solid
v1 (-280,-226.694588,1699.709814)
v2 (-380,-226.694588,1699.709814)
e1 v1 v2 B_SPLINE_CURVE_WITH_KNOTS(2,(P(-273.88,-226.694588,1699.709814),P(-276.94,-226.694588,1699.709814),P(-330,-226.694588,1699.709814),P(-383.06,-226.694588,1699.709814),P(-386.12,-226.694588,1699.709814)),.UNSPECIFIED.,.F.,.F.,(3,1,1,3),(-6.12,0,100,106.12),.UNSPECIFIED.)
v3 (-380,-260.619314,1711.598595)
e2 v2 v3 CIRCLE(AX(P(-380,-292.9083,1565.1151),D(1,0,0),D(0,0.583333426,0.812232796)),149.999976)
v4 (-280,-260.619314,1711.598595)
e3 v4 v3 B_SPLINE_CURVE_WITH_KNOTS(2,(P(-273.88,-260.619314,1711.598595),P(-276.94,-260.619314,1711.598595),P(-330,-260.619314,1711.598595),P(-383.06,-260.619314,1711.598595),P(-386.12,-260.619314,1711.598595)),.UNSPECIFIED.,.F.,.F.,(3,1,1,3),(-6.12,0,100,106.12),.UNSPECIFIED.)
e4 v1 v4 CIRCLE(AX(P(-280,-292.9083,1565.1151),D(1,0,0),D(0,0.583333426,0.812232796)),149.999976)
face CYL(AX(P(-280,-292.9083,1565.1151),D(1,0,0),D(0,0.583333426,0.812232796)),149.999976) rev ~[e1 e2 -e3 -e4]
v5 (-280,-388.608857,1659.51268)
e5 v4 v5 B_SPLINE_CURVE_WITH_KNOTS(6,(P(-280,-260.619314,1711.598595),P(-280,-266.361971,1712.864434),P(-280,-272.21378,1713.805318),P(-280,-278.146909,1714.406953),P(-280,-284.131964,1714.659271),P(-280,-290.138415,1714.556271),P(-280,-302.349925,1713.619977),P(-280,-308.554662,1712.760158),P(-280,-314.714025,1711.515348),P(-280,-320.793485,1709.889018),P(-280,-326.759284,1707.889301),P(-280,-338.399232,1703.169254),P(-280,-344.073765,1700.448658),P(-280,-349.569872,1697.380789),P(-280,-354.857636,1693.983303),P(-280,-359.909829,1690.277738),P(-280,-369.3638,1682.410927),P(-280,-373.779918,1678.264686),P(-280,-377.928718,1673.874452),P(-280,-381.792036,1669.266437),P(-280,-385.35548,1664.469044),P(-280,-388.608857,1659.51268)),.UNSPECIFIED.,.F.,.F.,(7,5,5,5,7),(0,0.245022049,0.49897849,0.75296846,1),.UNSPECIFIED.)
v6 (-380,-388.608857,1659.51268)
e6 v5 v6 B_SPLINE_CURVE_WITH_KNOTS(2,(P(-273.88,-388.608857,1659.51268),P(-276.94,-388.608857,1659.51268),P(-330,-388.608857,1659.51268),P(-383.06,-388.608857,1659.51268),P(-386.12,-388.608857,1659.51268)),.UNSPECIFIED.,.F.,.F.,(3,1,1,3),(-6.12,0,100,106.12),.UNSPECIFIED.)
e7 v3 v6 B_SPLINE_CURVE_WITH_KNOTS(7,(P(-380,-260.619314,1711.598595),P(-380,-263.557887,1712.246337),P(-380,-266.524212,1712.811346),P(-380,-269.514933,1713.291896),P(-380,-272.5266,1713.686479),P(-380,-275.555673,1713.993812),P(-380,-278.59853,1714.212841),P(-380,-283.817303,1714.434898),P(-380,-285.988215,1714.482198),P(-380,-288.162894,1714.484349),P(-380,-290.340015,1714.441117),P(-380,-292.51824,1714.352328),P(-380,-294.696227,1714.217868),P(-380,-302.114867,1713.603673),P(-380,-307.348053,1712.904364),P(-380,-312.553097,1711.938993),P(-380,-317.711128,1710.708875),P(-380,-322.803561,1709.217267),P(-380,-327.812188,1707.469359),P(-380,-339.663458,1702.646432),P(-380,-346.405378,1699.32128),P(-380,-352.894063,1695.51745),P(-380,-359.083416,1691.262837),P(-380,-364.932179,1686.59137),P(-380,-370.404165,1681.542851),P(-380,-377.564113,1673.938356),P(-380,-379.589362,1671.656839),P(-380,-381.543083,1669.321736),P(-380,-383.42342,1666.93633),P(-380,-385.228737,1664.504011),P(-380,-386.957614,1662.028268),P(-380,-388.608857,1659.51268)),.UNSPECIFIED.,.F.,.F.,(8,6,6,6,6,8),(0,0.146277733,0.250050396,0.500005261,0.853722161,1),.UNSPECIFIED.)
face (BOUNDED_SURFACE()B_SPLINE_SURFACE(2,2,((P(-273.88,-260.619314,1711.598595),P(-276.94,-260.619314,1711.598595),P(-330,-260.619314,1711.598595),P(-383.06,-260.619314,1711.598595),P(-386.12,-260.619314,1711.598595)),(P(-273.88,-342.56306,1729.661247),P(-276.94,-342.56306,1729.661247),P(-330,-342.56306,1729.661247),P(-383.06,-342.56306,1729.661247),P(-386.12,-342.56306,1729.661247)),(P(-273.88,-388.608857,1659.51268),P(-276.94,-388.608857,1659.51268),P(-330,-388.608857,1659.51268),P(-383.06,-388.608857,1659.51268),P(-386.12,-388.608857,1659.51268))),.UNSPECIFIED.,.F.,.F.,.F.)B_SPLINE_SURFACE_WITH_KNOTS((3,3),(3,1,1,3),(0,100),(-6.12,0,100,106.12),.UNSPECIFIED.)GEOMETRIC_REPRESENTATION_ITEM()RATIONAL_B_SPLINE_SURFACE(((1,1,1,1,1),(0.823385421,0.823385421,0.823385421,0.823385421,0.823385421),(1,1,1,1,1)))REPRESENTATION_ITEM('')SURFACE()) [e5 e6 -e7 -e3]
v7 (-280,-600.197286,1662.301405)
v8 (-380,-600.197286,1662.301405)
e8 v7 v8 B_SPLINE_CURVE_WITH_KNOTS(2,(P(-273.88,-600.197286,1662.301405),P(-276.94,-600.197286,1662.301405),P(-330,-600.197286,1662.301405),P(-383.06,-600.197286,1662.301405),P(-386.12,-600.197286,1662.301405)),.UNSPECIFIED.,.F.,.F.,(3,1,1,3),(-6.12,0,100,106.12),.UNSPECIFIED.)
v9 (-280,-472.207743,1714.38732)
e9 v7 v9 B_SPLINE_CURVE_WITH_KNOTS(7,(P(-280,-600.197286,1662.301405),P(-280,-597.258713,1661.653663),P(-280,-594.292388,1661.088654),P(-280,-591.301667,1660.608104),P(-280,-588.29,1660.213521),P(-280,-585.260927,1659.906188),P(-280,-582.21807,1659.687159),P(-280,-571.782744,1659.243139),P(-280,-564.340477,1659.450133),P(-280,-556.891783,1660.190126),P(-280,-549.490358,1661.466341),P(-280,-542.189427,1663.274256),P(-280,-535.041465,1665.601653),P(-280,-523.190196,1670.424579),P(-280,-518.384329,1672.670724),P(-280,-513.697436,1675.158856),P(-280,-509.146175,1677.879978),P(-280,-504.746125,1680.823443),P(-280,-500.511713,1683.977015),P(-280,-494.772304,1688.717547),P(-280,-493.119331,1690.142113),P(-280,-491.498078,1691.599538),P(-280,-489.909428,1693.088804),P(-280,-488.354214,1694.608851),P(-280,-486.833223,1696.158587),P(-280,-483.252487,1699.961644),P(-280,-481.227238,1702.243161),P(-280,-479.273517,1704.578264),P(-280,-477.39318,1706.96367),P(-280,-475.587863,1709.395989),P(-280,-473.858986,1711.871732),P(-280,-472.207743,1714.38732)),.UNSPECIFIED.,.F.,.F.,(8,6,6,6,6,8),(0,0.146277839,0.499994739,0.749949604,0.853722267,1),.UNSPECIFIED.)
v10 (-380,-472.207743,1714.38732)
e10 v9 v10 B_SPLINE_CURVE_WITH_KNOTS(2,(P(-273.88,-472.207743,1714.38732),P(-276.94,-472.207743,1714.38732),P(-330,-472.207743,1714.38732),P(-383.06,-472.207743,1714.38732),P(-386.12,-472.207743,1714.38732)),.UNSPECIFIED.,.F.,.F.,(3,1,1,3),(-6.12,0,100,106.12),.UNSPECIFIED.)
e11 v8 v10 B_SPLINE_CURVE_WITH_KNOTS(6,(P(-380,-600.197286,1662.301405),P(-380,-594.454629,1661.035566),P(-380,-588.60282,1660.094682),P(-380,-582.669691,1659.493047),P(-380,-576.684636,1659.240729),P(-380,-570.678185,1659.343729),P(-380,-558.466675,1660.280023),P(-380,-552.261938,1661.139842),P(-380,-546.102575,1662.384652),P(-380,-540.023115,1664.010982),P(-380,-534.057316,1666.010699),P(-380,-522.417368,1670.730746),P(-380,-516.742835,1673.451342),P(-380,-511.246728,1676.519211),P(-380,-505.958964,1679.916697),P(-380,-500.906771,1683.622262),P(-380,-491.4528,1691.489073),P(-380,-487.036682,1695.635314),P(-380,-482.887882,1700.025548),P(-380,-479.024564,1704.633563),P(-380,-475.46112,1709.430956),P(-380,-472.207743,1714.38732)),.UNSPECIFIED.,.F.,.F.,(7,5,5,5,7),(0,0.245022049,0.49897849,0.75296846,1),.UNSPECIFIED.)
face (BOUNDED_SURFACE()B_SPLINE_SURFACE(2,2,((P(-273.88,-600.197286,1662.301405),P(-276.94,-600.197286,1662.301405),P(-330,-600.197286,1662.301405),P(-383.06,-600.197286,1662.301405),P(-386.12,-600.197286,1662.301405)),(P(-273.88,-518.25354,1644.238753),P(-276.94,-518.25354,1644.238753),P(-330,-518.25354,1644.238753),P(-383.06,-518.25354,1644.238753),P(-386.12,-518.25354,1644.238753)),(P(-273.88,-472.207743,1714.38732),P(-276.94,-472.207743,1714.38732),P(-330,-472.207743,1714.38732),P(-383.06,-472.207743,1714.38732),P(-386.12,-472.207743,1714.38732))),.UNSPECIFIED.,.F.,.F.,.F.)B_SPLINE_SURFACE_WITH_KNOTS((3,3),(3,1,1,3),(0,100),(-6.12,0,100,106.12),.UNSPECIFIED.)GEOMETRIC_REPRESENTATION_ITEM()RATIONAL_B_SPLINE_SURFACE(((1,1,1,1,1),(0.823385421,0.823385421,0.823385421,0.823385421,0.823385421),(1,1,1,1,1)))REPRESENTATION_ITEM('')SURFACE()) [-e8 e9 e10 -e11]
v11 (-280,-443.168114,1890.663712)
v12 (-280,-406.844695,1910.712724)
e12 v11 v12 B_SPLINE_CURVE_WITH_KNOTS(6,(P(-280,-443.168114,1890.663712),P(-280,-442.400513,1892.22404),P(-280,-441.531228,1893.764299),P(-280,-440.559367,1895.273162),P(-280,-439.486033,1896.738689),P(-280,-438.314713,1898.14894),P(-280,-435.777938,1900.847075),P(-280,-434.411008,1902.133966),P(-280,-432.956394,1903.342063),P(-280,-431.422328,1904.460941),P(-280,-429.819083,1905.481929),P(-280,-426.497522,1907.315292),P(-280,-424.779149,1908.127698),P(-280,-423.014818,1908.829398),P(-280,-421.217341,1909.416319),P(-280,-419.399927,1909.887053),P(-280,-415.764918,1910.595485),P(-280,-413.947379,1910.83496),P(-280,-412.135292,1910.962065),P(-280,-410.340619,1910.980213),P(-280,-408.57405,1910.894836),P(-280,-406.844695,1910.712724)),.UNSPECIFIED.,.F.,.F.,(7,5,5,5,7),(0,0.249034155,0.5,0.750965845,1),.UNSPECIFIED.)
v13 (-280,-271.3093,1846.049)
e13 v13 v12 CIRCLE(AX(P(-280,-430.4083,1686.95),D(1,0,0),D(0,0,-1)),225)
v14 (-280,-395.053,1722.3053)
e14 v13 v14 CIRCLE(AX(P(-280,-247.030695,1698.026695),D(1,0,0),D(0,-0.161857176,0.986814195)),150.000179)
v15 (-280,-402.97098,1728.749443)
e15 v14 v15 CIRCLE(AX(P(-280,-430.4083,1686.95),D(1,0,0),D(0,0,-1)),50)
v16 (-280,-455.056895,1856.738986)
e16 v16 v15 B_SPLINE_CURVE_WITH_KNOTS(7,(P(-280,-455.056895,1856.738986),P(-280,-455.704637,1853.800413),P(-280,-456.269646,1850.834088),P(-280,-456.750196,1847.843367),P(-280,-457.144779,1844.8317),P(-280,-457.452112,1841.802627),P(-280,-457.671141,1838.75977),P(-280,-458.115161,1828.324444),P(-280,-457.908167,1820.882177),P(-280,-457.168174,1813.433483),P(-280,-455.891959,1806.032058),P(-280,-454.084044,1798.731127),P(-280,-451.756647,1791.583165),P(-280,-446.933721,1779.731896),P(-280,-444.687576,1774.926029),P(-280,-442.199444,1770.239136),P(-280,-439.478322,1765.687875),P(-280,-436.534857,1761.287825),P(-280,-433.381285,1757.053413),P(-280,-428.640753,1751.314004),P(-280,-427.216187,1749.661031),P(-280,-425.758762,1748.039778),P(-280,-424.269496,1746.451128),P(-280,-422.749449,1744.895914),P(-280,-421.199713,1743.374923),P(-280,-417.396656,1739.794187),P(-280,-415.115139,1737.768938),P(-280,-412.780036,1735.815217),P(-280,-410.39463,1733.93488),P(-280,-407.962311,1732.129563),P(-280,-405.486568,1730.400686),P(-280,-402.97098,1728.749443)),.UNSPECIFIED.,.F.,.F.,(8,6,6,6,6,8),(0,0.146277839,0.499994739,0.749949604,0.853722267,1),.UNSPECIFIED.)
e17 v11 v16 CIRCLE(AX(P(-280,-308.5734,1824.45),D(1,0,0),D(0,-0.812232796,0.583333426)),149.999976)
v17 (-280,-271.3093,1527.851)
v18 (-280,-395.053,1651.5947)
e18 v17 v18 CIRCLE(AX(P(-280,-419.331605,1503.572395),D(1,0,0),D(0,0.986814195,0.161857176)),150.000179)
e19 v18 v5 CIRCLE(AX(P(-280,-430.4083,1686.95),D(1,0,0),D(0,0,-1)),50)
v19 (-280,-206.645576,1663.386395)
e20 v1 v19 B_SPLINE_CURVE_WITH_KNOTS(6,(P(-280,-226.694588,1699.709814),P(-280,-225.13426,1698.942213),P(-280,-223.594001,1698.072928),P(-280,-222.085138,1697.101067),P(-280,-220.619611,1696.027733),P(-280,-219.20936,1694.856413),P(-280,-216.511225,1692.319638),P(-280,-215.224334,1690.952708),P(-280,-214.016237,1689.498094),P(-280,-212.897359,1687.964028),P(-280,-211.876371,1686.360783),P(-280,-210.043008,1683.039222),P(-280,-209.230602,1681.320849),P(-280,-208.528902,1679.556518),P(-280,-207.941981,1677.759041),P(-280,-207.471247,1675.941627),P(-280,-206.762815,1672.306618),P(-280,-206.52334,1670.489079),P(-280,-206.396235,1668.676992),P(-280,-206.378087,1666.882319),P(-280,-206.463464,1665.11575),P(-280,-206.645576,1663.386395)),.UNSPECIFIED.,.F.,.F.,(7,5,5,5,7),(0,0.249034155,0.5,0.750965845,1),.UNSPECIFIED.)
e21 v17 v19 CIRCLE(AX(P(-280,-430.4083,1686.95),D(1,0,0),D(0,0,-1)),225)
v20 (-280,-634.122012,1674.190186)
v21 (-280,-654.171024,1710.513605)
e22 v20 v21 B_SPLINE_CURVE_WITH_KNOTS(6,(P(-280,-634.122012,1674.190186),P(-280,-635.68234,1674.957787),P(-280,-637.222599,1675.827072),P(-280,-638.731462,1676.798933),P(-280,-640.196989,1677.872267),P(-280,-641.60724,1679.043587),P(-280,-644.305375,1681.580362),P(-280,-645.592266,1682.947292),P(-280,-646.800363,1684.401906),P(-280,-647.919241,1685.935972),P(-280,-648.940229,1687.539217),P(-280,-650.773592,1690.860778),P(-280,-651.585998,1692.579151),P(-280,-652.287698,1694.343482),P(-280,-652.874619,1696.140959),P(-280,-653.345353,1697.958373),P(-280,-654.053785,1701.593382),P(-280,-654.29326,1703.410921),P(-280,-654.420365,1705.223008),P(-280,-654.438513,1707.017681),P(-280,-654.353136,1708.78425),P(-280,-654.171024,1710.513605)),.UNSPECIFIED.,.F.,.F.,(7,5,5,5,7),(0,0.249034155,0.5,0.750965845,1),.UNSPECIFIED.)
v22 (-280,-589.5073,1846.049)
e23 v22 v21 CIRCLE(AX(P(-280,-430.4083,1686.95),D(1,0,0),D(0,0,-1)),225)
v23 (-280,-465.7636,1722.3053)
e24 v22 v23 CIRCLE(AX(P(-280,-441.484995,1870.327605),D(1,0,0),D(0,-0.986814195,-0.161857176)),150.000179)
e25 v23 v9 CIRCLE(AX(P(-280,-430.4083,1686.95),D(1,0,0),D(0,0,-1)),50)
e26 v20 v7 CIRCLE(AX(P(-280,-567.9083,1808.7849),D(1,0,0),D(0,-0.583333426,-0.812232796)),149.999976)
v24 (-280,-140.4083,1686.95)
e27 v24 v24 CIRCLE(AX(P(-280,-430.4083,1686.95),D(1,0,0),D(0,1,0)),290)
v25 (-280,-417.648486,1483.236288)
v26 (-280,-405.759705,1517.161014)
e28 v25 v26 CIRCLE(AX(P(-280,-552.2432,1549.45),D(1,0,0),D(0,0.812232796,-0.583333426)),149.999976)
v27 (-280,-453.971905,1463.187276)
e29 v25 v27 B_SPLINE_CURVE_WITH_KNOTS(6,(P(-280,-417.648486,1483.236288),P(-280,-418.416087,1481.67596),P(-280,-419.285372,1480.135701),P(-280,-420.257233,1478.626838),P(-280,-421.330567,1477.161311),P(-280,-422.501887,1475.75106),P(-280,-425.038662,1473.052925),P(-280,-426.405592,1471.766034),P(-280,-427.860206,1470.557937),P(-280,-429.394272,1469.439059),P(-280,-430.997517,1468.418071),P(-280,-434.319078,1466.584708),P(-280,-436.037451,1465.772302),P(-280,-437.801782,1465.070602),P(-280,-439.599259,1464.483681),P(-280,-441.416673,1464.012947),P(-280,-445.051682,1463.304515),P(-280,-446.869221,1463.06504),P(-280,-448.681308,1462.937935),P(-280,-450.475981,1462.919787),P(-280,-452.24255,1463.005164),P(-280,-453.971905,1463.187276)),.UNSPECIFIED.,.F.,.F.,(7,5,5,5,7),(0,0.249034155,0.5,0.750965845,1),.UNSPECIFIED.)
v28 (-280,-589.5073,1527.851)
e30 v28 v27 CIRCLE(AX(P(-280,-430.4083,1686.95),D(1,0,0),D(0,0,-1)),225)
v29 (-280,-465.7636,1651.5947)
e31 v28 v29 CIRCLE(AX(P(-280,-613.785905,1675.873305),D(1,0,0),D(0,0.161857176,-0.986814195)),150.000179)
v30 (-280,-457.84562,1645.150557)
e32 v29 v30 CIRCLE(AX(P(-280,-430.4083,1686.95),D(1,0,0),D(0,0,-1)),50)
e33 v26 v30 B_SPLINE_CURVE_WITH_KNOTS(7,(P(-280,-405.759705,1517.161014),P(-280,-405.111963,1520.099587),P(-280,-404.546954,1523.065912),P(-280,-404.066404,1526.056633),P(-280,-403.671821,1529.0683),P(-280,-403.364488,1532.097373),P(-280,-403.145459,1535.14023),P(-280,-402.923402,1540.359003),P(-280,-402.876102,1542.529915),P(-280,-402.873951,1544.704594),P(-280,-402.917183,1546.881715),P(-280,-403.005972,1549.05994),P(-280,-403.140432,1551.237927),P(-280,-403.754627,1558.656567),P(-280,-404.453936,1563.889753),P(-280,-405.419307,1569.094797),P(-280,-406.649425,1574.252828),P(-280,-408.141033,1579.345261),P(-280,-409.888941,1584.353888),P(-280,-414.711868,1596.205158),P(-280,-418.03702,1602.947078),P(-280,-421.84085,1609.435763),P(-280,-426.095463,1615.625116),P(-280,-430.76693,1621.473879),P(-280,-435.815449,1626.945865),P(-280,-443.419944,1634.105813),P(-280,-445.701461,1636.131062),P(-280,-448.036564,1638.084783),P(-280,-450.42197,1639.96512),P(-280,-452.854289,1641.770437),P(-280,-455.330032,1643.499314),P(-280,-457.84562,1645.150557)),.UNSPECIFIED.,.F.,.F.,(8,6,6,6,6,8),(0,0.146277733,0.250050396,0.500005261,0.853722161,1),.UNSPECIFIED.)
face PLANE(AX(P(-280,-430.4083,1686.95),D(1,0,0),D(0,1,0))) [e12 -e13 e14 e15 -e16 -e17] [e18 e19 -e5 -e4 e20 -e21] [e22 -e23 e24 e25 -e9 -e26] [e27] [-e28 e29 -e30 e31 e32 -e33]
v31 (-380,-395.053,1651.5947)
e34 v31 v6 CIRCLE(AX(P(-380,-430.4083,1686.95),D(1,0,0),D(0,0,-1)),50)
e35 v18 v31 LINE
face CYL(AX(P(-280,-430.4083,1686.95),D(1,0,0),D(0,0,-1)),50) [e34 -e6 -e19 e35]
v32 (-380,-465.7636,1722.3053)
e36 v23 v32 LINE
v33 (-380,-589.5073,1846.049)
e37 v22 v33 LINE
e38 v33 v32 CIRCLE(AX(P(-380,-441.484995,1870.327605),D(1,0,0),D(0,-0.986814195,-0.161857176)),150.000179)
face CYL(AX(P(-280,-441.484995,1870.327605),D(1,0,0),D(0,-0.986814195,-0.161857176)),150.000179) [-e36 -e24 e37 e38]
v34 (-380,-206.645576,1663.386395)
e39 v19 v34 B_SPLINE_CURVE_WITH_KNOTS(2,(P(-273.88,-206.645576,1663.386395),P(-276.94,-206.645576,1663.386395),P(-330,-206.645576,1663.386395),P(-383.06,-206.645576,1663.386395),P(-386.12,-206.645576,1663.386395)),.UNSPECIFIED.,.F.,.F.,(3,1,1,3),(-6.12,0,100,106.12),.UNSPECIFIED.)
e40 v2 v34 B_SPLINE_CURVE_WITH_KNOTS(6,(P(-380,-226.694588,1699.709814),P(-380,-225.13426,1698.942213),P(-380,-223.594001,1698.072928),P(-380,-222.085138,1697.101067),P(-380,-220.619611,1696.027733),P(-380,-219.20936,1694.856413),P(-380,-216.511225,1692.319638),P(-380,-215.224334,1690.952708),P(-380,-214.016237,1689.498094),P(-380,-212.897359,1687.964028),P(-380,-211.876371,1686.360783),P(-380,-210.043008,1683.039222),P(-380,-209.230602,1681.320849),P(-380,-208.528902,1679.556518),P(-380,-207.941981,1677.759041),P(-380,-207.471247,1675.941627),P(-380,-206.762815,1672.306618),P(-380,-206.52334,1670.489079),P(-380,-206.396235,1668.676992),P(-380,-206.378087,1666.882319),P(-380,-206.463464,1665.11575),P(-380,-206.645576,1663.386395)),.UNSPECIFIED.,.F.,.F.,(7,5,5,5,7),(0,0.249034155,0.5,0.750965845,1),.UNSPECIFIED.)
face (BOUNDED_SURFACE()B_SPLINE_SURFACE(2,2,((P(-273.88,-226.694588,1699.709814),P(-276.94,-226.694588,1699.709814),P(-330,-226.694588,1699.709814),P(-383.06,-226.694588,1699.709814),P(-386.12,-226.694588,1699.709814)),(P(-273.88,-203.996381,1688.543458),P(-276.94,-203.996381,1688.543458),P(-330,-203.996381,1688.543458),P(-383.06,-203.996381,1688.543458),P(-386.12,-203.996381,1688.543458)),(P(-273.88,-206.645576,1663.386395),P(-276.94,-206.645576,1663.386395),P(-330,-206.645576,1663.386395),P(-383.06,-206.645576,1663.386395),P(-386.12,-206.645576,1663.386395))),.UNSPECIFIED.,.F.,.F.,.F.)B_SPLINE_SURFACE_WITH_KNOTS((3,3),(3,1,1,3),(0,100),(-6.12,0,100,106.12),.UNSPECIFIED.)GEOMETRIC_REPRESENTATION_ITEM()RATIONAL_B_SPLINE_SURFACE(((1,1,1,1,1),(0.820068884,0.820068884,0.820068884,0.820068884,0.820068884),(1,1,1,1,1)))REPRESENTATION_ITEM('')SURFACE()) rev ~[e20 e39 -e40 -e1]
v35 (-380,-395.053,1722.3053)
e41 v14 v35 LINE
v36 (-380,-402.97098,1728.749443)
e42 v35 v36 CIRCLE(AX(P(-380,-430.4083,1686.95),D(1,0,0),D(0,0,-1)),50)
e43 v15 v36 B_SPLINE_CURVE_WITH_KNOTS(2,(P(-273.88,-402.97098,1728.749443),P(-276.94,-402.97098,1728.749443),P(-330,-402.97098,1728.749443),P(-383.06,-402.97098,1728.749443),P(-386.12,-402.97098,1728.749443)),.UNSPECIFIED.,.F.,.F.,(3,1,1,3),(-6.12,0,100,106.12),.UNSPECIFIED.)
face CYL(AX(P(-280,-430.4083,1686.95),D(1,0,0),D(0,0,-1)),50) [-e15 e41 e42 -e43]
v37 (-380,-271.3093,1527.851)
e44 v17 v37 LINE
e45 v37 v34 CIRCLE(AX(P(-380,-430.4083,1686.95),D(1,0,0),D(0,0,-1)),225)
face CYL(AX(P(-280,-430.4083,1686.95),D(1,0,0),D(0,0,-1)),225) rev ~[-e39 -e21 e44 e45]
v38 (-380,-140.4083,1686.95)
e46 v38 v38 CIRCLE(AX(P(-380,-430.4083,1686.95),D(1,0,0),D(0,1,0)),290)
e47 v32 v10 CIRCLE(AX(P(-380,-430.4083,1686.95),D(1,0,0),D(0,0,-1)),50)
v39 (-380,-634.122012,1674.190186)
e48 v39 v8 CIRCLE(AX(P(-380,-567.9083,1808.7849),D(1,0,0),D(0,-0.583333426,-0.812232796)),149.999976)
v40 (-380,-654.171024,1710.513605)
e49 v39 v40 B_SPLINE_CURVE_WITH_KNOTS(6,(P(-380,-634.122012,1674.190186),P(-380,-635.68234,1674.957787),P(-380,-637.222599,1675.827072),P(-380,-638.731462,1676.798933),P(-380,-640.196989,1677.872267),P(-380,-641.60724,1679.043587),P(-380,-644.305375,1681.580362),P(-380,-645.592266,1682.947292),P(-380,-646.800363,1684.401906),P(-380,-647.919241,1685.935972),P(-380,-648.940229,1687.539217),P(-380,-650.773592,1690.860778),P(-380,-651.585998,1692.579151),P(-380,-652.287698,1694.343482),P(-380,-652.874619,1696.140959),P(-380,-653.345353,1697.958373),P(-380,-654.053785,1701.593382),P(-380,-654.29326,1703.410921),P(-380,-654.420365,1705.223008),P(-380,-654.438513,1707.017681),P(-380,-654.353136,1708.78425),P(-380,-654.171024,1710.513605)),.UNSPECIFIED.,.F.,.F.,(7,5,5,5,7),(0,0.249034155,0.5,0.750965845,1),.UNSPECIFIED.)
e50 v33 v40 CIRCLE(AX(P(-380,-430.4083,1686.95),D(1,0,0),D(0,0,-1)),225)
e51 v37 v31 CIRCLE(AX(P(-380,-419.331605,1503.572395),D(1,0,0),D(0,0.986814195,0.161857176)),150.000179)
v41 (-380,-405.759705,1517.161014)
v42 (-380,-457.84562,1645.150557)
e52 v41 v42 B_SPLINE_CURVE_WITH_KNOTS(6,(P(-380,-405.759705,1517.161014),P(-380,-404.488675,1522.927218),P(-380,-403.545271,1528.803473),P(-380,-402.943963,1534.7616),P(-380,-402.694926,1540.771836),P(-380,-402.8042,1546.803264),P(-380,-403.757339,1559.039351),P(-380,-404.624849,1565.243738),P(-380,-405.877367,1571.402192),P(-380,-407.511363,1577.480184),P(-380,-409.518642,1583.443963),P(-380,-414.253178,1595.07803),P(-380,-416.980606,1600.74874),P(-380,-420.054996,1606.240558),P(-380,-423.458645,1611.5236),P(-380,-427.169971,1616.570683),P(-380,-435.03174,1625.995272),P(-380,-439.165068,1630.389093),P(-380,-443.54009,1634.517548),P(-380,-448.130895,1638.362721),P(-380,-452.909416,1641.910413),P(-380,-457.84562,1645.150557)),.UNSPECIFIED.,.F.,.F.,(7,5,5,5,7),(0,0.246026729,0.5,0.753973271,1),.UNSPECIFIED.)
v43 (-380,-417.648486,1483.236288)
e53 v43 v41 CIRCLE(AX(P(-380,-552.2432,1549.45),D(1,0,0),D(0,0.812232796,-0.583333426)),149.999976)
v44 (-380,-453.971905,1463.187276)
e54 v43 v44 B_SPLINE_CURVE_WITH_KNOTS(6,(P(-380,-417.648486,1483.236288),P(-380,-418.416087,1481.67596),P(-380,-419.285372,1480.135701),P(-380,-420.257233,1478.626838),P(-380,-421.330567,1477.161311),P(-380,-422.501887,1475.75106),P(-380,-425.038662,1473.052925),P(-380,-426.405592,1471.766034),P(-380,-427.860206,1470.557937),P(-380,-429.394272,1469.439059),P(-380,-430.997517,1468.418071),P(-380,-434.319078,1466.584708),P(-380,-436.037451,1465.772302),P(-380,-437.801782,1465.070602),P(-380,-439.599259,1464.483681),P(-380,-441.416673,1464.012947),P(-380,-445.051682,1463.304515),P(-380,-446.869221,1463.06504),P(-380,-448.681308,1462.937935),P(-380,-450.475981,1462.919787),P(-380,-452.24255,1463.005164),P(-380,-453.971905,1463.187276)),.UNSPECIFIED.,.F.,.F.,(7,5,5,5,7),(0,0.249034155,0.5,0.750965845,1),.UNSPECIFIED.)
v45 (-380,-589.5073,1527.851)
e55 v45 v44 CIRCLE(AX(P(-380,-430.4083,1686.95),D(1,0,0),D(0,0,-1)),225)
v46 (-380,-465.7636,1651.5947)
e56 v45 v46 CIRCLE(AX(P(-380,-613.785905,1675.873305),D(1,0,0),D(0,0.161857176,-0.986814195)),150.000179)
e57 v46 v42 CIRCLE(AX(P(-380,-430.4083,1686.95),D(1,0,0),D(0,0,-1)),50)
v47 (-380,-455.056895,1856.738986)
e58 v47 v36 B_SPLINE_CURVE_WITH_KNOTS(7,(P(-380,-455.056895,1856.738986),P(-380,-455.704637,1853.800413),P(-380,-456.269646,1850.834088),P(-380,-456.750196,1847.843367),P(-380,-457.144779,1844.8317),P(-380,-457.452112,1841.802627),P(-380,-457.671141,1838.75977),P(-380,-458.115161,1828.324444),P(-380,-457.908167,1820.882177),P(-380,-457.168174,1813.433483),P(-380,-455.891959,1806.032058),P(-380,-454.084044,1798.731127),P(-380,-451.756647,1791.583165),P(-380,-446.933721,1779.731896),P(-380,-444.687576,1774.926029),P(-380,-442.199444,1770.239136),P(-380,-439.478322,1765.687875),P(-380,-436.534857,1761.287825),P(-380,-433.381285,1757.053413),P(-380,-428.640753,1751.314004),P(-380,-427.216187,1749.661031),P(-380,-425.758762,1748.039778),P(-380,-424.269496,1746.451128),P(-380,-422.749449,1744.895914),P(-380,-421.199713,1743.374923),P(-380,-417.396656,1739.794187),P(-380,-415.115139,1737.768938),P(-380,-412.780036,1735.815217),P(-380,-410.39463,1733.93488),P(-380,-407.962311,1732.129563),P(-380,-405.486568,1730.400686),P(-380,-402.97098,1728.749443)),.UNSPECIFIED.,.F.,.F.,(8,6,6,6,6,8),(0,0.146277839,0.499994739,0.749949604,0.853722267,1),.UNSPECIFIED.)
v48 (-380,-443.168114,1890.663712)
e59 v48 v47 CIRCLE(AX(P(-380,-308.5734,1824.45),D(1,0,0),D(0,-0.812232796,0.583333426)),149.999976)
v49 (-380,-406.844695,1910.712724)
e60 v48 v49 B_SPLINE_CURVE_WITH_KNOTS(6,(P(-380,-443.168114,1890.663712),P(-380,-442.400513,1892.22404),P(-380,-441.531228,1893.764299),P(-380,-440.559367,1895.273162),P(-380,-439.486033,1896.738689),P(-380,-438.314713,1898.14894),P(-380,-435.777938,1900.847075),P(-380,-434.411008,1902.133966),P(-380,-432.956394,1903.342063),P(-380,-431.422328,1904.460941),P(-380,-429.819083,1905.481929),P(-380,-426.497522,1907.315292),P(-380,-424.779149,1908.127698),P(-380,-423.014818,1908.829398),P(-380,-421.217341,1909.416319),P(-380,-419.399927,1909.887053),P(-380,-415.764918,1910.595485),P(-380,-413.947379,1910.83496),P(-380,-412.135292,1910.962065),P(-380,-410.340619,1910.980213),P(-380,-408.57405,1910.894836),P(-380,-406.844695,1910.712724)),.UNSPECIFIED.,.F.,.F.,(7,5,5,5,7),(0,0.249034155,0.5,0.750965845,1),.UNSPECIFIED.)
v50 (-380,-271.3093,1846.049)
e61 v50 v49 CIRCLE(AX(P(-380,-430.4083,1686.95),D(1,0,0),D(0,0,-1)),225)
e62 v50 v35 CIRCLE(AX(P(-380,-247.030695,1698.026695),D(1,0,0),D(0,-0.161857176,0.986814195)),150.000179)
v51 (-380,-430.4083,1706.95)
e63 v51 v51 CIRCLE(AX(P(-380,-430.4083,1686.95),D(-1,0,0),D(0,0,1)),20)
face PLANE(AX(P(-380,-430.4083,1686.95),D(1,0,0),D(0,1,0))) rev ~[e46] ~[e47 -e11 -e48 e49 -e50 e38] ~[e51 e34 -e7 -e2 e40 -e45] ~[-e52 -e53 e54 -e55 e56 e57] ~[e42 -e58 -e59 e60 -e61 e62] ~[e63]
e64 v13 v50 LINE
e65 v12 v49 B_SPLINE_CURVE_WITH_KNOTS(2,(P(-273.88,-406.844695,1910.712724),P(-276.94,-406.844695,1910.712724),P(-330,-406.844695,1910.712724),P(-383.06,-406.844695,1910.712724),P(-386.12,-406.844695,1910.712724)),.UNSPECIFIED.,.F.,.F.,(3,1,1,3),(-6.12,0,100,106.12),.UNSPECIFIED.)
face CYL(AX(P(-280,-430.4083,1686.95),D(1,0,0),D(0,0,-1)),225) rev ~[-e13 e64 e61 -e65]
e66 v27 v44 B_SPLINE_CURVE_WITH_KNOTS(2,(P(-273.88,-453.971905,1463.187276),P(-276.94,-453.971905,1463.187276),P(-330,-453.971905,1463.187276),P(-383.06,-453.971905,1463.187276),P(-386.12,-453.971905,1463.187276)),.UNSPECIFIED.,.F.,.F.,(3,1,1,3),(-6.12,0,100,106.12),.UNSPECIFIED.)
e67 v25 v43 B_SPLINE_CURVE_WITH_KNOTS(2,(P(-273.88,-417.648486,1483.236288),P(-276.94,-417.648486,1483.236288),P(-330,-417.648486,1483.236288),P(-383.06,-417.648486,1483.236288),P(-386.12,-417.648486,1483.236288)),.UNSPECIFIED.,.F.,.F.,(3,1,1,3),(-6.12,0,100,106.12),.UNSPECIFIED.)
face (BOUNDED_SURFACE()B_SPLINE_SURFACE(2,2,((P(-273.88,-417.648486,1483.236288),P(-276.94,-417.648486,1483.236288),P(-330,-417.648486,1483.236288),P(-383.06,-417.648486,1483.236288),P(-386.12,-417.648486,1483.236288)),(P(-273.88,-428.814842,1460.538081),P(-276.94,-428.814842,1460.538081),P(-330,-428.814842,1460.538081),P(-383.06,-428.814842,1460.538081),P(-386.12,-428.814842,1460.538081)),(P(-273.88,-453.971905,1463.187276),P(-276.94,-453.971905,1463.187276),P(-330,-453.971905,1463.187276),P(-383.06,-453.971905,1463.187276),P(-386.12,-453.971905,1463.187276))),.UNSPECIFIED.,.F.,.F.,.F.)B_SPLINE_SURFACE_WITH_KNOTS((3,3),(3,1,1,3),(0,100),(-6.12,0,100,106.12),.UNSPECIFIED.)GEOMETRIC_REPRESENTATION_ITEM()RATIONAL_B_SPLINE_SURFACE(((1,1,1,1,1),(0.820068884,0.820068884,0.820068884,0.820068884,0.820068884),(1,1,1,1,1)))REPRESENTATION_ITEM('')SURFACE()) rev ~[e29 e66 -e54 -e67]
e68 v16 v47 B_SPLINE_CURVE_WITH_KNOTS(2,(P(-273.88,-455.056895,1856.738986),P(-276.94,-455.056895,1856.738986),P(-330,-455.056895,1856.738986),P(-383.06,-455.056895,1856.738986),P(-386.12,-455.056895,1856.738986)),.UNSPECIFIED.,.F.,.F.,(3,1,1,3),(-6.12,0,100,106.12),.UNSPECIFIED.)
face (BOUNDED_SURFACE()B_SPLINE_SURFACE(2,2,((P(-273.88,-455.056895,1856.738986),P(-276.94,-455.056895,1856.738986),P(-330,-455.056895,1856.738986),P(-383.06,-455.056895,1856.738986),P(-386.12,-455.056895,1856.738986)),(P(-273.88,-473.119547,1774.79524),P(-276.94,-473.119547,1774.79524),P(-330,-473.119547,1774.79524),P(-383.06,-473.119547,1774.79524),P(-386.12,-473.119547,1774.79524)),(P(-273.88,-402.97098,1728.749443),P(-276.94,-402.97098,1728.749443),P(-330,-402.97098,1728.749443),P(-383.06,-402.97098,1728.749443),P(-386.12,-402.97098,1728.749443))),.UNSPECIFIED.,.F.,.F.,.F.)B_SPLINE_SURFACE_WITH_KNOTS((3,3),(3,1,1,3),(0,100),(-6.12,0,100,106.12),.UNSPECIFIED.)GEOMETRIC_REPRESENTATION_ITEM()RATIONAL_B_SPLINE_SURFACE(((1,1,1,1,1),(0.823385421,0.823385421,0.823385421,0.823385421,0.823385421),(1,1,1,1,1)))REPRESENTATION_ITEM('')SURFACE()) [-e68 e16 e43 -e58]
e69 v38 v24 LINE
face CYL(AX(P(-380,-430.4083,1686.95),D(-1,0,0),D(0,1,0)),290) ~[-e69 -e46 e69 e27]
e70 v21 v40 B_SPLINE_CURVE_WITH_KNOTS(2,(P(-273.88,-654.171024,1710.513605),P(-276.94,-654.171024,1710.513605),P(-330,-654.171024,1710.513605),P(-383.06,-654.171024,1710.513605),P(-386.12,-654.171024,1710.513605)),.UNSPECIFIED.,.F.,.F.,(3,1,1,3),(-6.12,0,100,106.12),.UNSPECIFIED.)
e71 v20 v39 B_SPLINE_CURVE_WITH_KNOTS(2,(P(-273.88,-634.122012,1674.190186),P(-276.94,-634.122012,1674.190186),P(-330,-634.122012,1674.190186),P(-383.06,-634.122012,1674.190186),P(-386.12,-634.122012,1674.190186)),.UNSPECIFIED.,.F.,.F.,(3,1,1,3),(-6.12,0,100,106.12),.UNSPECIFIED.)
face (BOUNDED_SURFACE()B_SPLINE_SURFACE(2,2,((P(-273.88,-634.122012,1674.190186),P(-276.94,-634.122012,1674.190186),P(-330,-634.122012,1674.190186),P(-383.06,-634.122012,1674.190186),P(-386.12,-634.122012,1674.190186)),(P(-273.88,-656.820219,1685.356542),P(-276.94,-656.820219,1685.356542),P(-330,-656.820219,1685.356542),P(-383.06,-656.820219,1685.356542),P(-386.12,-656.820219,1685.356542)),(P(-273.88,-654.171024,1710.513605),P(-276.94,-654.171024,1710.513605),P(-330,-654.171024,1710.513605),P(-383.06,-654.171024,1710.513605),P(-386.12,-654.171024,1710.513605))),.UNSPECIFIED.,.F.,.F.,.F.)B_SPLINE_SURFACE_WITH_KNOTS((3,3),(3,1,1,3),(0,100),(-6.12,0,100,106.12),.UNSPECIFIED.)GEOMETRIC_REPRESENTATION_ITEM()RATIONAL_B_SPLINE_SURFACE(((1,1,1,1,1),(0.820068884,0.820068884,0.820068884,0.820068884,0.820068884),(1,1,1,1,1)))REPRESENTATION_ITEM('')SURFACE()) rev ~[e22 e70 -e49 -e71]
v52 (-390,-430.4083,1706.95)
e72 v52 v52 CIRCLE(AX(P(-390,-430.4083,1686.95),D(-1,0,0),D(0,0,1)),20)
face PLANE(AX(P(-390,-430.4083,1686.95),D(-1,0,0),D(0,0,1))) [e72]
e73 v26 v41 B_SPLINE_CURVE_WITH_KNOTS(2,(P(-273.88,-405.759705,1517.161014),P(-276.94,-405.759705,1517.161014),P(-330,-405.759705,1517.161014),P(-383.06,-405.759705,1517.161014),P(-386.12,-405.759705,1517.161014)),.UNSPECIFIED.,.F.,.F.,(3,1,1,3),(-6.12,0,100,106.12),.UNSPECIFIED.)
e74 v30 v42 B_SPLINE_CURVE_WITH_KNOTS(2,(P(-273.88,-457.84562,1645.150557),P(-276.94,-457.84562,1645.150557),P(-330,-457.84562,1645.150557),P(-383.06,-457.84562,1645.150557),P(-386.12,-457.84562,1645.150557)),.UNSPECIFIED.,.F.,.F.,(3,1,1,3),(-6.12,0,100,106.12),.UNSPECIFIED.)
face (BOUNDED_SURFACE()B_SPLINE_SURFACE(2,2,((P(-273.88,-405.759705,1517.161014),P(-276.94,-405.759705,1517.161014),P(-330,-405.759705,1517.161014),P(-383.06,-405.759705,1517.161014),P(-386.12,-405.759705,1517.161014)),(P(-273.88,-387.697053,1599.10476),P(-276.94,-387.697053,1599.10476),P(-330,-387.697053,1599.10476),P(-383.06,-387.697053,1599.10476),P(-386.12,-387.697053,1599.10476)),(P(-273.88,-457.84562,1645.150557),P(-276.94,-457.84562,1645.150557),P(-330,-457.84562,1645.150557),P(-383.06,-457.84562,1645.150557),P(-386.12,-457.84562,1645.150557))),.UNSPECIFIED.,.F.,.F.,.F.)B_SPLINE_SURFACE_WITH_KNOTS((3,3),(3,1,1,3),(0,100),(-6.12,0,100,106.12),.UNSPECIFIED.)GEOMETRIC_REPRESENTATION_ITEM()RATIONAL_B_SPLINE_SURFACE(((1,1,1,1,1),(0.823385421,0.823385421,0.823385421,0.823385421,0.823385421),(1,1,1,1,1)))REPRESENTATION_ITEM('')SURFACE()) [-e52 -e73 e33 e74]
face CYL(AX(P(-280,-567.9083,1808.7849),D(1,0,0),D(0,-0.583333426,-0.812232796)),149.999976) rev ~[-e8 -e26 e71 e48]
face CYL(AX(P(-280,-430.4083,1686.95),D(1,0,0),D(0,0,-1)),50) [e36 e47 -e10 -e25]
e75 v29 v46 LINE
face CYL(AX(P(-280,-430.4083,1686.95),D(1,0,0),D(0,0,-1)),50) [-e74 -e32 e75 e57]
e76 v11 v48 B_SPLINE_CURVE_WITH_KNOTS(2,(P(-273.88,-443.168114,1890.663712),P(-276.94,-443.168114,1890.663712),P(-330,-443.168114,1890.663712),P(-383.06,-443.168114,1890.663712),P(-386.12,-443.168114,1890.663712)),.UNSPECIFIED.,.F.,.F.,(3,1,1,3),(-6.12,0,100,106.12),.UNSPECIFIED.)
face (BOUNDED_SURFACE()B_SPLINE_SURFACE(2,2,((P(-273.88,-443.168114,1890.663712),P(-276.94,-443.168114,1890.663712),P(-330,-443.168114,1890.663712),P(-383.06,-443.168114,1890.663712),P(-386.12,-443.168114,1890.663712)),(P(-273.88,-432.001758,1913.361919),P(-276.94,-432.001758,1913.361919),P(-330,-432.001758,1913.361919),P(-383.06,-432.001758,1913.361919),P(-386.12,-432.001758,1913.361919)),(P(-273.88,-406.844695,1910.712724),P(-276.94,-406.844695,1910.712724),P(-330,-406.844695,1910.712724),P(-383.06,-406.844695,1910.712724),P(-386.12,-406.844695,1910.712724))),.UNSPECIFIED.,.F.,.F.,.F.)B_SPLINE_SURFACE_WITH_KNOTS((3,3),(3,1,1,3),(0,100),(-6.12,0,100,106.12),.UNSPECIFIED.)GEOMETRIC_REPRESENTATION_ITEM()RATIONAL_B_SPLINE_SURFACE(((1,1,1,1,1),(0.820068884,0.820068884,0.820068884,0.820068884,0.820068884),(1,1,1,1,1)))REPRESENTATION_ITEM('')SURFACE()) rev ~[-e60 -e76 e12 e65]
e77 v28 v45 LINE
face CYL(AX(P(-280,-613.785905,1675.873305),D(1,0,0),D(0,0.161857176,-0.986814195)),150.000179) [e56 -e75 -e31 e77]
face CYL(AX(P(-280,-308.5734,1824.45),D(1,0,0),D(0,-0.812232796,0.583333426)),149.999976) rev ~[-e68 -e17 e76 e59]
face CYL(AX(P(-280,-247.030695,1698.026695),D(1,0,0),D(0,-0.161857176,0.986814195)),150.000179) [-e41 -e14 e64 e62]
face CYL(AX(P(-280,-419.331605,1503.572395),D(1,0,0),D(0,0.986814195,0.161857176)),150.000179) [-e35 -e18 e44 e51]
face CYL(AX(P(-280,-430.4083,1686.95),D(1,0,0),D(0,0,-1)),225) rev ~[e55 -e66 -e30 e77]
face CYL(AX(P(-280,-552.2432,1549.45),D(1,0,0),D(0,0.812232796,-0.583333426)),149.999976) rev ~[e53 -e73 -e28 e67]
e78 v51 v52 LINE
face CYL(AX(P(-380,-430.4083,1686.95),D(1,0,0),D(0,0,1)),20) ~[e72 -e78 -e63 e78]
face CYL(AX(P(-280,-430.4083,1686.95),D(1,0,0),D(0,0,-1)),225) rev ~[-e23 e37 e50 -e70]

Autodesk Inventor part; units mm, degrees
ref_plane "YZ Plane" through (0, 0, 0) normal (1, 0, 0) x (0, 1, 0)
ref_plane "XZ Plane" through (0, 0, 0) normal (0, 1, 0) x (-1, 0, 0)
ref_plane "XY Plane" through (0, 0, 0) normal (0, 0, 1) x (1, 0, 0)
ref_plane "작업 평면1" through (-380, -430.4083, 1686.95) normal (1, 0, 0) x (0, 1, 0)
sketch "스케치1" plane through (-380, -430.4083, 1686.95) normal (1, 0, 0) x (0, 1, 0)
  circle A0 centre (0, 0) radius 290
  point P0 (430.4083, -1686.95)
  dimension "d0" = 580
extrude "돌출1" add sketch "스케치1" along normal blind 100
sketch "스케치2" plane through (-380, -430.4083, 1686.95) normal (-1, 0, 0) x (0, 0, 1)
  circle A0 centre (0, 0) radius 20
  point P0 (-1686.95, 430.4083)
  dimension "d3" = 40
extrude "돌출2" add sketch "스케치2" along normal blind 10
sketch "스케치3" plane through (-280, -430.4083, 1686.95) normal (1, 0, 0) x (0, 0, -1)
  circle A0 centre (0, 0) radius 225
  circle A1 centre (0, 0) radius 20 projected
  circle A2 centre (0, 0) radius 50
  arc A3 (225, 0) -> (50, 0) centre (137.5, -121.8349) ccw
  arc A4 (0, -225) -> (0, -50) centre (-121.8349, -137.5) ccw
  line L0 (0, 0) -> (159.099, -159.099)
  line L1 (0, 0) -> (225, 0) construction
  line L2 (159.099, -159.099) -> (-159.099, 159.099)
  line L3 (0, 0) -> (159.099, 159.099)
  line L4 (0, 0) -> (225, 0) construction
  line L5 (159.099, 159.099) -> (-159.099, -159.099)
  arc A5 (-159.099, -159.099) -> (-35.3553, -35.3553) centre (-183.3775, -11.0769) ccw
  arc A6 (159.099, 159.099) -> (35.3553, 35.3553) centre (183.3775, 11.0769) ccw
  arc A7 (159.099, -159.099) -> (35.3553, -35.3553) centre (11.0769, -183.3775) ccw
  arc A8 (-225, 0) -> (-50, 0) centre (-137.5, 121.8349) ccw
  arc A9 (-159.099, 159.099) -> (-35.3553, 35.3553) centre (-11.0769, 183.3775) ccw
  arc A10 (0, 225) -> (0, 50) centre (121.8349, 137.5) ccw
  point P0 (1686.95, 430.4083)
  dimension "d6" = 450
  dimension "d7" = 100
  dimension "d10" = 150
  dimension "d11" = 150
  dimension "d12" = 45
  dimension "d13" = 45
  dimension "d14" = 150
  dimension "d16" = 150
  dimension "d17" = 150
  dimension "d18" = 150
  dimension "d19" = 150
  dimension "d20" = 150
extrude "돌출3" cut sketch "스케치3" against normal blind 100 contours A0 A7 A2 A3 | A6 A2 A10 A0 | A0 A5 A2 A4 | A9 A2 A8 A0
fillet "모깎기1" radius 121.75 4 edges at (-330, -380.4083, 1686.95) (-330, -430.4083, 1736.95) (-330, -480.4083, 1686.95) (-330, -430.4083, 1636.95)
fillet "모깎기2" radius 36.25 4 edges at (-330, -205.4083, 1686.95) (-330, -430.4083, 1911.95) (-330, -430.4083, 1461.95) (-330, -655.4083, 1686.95)
properties part number "바퀴"
